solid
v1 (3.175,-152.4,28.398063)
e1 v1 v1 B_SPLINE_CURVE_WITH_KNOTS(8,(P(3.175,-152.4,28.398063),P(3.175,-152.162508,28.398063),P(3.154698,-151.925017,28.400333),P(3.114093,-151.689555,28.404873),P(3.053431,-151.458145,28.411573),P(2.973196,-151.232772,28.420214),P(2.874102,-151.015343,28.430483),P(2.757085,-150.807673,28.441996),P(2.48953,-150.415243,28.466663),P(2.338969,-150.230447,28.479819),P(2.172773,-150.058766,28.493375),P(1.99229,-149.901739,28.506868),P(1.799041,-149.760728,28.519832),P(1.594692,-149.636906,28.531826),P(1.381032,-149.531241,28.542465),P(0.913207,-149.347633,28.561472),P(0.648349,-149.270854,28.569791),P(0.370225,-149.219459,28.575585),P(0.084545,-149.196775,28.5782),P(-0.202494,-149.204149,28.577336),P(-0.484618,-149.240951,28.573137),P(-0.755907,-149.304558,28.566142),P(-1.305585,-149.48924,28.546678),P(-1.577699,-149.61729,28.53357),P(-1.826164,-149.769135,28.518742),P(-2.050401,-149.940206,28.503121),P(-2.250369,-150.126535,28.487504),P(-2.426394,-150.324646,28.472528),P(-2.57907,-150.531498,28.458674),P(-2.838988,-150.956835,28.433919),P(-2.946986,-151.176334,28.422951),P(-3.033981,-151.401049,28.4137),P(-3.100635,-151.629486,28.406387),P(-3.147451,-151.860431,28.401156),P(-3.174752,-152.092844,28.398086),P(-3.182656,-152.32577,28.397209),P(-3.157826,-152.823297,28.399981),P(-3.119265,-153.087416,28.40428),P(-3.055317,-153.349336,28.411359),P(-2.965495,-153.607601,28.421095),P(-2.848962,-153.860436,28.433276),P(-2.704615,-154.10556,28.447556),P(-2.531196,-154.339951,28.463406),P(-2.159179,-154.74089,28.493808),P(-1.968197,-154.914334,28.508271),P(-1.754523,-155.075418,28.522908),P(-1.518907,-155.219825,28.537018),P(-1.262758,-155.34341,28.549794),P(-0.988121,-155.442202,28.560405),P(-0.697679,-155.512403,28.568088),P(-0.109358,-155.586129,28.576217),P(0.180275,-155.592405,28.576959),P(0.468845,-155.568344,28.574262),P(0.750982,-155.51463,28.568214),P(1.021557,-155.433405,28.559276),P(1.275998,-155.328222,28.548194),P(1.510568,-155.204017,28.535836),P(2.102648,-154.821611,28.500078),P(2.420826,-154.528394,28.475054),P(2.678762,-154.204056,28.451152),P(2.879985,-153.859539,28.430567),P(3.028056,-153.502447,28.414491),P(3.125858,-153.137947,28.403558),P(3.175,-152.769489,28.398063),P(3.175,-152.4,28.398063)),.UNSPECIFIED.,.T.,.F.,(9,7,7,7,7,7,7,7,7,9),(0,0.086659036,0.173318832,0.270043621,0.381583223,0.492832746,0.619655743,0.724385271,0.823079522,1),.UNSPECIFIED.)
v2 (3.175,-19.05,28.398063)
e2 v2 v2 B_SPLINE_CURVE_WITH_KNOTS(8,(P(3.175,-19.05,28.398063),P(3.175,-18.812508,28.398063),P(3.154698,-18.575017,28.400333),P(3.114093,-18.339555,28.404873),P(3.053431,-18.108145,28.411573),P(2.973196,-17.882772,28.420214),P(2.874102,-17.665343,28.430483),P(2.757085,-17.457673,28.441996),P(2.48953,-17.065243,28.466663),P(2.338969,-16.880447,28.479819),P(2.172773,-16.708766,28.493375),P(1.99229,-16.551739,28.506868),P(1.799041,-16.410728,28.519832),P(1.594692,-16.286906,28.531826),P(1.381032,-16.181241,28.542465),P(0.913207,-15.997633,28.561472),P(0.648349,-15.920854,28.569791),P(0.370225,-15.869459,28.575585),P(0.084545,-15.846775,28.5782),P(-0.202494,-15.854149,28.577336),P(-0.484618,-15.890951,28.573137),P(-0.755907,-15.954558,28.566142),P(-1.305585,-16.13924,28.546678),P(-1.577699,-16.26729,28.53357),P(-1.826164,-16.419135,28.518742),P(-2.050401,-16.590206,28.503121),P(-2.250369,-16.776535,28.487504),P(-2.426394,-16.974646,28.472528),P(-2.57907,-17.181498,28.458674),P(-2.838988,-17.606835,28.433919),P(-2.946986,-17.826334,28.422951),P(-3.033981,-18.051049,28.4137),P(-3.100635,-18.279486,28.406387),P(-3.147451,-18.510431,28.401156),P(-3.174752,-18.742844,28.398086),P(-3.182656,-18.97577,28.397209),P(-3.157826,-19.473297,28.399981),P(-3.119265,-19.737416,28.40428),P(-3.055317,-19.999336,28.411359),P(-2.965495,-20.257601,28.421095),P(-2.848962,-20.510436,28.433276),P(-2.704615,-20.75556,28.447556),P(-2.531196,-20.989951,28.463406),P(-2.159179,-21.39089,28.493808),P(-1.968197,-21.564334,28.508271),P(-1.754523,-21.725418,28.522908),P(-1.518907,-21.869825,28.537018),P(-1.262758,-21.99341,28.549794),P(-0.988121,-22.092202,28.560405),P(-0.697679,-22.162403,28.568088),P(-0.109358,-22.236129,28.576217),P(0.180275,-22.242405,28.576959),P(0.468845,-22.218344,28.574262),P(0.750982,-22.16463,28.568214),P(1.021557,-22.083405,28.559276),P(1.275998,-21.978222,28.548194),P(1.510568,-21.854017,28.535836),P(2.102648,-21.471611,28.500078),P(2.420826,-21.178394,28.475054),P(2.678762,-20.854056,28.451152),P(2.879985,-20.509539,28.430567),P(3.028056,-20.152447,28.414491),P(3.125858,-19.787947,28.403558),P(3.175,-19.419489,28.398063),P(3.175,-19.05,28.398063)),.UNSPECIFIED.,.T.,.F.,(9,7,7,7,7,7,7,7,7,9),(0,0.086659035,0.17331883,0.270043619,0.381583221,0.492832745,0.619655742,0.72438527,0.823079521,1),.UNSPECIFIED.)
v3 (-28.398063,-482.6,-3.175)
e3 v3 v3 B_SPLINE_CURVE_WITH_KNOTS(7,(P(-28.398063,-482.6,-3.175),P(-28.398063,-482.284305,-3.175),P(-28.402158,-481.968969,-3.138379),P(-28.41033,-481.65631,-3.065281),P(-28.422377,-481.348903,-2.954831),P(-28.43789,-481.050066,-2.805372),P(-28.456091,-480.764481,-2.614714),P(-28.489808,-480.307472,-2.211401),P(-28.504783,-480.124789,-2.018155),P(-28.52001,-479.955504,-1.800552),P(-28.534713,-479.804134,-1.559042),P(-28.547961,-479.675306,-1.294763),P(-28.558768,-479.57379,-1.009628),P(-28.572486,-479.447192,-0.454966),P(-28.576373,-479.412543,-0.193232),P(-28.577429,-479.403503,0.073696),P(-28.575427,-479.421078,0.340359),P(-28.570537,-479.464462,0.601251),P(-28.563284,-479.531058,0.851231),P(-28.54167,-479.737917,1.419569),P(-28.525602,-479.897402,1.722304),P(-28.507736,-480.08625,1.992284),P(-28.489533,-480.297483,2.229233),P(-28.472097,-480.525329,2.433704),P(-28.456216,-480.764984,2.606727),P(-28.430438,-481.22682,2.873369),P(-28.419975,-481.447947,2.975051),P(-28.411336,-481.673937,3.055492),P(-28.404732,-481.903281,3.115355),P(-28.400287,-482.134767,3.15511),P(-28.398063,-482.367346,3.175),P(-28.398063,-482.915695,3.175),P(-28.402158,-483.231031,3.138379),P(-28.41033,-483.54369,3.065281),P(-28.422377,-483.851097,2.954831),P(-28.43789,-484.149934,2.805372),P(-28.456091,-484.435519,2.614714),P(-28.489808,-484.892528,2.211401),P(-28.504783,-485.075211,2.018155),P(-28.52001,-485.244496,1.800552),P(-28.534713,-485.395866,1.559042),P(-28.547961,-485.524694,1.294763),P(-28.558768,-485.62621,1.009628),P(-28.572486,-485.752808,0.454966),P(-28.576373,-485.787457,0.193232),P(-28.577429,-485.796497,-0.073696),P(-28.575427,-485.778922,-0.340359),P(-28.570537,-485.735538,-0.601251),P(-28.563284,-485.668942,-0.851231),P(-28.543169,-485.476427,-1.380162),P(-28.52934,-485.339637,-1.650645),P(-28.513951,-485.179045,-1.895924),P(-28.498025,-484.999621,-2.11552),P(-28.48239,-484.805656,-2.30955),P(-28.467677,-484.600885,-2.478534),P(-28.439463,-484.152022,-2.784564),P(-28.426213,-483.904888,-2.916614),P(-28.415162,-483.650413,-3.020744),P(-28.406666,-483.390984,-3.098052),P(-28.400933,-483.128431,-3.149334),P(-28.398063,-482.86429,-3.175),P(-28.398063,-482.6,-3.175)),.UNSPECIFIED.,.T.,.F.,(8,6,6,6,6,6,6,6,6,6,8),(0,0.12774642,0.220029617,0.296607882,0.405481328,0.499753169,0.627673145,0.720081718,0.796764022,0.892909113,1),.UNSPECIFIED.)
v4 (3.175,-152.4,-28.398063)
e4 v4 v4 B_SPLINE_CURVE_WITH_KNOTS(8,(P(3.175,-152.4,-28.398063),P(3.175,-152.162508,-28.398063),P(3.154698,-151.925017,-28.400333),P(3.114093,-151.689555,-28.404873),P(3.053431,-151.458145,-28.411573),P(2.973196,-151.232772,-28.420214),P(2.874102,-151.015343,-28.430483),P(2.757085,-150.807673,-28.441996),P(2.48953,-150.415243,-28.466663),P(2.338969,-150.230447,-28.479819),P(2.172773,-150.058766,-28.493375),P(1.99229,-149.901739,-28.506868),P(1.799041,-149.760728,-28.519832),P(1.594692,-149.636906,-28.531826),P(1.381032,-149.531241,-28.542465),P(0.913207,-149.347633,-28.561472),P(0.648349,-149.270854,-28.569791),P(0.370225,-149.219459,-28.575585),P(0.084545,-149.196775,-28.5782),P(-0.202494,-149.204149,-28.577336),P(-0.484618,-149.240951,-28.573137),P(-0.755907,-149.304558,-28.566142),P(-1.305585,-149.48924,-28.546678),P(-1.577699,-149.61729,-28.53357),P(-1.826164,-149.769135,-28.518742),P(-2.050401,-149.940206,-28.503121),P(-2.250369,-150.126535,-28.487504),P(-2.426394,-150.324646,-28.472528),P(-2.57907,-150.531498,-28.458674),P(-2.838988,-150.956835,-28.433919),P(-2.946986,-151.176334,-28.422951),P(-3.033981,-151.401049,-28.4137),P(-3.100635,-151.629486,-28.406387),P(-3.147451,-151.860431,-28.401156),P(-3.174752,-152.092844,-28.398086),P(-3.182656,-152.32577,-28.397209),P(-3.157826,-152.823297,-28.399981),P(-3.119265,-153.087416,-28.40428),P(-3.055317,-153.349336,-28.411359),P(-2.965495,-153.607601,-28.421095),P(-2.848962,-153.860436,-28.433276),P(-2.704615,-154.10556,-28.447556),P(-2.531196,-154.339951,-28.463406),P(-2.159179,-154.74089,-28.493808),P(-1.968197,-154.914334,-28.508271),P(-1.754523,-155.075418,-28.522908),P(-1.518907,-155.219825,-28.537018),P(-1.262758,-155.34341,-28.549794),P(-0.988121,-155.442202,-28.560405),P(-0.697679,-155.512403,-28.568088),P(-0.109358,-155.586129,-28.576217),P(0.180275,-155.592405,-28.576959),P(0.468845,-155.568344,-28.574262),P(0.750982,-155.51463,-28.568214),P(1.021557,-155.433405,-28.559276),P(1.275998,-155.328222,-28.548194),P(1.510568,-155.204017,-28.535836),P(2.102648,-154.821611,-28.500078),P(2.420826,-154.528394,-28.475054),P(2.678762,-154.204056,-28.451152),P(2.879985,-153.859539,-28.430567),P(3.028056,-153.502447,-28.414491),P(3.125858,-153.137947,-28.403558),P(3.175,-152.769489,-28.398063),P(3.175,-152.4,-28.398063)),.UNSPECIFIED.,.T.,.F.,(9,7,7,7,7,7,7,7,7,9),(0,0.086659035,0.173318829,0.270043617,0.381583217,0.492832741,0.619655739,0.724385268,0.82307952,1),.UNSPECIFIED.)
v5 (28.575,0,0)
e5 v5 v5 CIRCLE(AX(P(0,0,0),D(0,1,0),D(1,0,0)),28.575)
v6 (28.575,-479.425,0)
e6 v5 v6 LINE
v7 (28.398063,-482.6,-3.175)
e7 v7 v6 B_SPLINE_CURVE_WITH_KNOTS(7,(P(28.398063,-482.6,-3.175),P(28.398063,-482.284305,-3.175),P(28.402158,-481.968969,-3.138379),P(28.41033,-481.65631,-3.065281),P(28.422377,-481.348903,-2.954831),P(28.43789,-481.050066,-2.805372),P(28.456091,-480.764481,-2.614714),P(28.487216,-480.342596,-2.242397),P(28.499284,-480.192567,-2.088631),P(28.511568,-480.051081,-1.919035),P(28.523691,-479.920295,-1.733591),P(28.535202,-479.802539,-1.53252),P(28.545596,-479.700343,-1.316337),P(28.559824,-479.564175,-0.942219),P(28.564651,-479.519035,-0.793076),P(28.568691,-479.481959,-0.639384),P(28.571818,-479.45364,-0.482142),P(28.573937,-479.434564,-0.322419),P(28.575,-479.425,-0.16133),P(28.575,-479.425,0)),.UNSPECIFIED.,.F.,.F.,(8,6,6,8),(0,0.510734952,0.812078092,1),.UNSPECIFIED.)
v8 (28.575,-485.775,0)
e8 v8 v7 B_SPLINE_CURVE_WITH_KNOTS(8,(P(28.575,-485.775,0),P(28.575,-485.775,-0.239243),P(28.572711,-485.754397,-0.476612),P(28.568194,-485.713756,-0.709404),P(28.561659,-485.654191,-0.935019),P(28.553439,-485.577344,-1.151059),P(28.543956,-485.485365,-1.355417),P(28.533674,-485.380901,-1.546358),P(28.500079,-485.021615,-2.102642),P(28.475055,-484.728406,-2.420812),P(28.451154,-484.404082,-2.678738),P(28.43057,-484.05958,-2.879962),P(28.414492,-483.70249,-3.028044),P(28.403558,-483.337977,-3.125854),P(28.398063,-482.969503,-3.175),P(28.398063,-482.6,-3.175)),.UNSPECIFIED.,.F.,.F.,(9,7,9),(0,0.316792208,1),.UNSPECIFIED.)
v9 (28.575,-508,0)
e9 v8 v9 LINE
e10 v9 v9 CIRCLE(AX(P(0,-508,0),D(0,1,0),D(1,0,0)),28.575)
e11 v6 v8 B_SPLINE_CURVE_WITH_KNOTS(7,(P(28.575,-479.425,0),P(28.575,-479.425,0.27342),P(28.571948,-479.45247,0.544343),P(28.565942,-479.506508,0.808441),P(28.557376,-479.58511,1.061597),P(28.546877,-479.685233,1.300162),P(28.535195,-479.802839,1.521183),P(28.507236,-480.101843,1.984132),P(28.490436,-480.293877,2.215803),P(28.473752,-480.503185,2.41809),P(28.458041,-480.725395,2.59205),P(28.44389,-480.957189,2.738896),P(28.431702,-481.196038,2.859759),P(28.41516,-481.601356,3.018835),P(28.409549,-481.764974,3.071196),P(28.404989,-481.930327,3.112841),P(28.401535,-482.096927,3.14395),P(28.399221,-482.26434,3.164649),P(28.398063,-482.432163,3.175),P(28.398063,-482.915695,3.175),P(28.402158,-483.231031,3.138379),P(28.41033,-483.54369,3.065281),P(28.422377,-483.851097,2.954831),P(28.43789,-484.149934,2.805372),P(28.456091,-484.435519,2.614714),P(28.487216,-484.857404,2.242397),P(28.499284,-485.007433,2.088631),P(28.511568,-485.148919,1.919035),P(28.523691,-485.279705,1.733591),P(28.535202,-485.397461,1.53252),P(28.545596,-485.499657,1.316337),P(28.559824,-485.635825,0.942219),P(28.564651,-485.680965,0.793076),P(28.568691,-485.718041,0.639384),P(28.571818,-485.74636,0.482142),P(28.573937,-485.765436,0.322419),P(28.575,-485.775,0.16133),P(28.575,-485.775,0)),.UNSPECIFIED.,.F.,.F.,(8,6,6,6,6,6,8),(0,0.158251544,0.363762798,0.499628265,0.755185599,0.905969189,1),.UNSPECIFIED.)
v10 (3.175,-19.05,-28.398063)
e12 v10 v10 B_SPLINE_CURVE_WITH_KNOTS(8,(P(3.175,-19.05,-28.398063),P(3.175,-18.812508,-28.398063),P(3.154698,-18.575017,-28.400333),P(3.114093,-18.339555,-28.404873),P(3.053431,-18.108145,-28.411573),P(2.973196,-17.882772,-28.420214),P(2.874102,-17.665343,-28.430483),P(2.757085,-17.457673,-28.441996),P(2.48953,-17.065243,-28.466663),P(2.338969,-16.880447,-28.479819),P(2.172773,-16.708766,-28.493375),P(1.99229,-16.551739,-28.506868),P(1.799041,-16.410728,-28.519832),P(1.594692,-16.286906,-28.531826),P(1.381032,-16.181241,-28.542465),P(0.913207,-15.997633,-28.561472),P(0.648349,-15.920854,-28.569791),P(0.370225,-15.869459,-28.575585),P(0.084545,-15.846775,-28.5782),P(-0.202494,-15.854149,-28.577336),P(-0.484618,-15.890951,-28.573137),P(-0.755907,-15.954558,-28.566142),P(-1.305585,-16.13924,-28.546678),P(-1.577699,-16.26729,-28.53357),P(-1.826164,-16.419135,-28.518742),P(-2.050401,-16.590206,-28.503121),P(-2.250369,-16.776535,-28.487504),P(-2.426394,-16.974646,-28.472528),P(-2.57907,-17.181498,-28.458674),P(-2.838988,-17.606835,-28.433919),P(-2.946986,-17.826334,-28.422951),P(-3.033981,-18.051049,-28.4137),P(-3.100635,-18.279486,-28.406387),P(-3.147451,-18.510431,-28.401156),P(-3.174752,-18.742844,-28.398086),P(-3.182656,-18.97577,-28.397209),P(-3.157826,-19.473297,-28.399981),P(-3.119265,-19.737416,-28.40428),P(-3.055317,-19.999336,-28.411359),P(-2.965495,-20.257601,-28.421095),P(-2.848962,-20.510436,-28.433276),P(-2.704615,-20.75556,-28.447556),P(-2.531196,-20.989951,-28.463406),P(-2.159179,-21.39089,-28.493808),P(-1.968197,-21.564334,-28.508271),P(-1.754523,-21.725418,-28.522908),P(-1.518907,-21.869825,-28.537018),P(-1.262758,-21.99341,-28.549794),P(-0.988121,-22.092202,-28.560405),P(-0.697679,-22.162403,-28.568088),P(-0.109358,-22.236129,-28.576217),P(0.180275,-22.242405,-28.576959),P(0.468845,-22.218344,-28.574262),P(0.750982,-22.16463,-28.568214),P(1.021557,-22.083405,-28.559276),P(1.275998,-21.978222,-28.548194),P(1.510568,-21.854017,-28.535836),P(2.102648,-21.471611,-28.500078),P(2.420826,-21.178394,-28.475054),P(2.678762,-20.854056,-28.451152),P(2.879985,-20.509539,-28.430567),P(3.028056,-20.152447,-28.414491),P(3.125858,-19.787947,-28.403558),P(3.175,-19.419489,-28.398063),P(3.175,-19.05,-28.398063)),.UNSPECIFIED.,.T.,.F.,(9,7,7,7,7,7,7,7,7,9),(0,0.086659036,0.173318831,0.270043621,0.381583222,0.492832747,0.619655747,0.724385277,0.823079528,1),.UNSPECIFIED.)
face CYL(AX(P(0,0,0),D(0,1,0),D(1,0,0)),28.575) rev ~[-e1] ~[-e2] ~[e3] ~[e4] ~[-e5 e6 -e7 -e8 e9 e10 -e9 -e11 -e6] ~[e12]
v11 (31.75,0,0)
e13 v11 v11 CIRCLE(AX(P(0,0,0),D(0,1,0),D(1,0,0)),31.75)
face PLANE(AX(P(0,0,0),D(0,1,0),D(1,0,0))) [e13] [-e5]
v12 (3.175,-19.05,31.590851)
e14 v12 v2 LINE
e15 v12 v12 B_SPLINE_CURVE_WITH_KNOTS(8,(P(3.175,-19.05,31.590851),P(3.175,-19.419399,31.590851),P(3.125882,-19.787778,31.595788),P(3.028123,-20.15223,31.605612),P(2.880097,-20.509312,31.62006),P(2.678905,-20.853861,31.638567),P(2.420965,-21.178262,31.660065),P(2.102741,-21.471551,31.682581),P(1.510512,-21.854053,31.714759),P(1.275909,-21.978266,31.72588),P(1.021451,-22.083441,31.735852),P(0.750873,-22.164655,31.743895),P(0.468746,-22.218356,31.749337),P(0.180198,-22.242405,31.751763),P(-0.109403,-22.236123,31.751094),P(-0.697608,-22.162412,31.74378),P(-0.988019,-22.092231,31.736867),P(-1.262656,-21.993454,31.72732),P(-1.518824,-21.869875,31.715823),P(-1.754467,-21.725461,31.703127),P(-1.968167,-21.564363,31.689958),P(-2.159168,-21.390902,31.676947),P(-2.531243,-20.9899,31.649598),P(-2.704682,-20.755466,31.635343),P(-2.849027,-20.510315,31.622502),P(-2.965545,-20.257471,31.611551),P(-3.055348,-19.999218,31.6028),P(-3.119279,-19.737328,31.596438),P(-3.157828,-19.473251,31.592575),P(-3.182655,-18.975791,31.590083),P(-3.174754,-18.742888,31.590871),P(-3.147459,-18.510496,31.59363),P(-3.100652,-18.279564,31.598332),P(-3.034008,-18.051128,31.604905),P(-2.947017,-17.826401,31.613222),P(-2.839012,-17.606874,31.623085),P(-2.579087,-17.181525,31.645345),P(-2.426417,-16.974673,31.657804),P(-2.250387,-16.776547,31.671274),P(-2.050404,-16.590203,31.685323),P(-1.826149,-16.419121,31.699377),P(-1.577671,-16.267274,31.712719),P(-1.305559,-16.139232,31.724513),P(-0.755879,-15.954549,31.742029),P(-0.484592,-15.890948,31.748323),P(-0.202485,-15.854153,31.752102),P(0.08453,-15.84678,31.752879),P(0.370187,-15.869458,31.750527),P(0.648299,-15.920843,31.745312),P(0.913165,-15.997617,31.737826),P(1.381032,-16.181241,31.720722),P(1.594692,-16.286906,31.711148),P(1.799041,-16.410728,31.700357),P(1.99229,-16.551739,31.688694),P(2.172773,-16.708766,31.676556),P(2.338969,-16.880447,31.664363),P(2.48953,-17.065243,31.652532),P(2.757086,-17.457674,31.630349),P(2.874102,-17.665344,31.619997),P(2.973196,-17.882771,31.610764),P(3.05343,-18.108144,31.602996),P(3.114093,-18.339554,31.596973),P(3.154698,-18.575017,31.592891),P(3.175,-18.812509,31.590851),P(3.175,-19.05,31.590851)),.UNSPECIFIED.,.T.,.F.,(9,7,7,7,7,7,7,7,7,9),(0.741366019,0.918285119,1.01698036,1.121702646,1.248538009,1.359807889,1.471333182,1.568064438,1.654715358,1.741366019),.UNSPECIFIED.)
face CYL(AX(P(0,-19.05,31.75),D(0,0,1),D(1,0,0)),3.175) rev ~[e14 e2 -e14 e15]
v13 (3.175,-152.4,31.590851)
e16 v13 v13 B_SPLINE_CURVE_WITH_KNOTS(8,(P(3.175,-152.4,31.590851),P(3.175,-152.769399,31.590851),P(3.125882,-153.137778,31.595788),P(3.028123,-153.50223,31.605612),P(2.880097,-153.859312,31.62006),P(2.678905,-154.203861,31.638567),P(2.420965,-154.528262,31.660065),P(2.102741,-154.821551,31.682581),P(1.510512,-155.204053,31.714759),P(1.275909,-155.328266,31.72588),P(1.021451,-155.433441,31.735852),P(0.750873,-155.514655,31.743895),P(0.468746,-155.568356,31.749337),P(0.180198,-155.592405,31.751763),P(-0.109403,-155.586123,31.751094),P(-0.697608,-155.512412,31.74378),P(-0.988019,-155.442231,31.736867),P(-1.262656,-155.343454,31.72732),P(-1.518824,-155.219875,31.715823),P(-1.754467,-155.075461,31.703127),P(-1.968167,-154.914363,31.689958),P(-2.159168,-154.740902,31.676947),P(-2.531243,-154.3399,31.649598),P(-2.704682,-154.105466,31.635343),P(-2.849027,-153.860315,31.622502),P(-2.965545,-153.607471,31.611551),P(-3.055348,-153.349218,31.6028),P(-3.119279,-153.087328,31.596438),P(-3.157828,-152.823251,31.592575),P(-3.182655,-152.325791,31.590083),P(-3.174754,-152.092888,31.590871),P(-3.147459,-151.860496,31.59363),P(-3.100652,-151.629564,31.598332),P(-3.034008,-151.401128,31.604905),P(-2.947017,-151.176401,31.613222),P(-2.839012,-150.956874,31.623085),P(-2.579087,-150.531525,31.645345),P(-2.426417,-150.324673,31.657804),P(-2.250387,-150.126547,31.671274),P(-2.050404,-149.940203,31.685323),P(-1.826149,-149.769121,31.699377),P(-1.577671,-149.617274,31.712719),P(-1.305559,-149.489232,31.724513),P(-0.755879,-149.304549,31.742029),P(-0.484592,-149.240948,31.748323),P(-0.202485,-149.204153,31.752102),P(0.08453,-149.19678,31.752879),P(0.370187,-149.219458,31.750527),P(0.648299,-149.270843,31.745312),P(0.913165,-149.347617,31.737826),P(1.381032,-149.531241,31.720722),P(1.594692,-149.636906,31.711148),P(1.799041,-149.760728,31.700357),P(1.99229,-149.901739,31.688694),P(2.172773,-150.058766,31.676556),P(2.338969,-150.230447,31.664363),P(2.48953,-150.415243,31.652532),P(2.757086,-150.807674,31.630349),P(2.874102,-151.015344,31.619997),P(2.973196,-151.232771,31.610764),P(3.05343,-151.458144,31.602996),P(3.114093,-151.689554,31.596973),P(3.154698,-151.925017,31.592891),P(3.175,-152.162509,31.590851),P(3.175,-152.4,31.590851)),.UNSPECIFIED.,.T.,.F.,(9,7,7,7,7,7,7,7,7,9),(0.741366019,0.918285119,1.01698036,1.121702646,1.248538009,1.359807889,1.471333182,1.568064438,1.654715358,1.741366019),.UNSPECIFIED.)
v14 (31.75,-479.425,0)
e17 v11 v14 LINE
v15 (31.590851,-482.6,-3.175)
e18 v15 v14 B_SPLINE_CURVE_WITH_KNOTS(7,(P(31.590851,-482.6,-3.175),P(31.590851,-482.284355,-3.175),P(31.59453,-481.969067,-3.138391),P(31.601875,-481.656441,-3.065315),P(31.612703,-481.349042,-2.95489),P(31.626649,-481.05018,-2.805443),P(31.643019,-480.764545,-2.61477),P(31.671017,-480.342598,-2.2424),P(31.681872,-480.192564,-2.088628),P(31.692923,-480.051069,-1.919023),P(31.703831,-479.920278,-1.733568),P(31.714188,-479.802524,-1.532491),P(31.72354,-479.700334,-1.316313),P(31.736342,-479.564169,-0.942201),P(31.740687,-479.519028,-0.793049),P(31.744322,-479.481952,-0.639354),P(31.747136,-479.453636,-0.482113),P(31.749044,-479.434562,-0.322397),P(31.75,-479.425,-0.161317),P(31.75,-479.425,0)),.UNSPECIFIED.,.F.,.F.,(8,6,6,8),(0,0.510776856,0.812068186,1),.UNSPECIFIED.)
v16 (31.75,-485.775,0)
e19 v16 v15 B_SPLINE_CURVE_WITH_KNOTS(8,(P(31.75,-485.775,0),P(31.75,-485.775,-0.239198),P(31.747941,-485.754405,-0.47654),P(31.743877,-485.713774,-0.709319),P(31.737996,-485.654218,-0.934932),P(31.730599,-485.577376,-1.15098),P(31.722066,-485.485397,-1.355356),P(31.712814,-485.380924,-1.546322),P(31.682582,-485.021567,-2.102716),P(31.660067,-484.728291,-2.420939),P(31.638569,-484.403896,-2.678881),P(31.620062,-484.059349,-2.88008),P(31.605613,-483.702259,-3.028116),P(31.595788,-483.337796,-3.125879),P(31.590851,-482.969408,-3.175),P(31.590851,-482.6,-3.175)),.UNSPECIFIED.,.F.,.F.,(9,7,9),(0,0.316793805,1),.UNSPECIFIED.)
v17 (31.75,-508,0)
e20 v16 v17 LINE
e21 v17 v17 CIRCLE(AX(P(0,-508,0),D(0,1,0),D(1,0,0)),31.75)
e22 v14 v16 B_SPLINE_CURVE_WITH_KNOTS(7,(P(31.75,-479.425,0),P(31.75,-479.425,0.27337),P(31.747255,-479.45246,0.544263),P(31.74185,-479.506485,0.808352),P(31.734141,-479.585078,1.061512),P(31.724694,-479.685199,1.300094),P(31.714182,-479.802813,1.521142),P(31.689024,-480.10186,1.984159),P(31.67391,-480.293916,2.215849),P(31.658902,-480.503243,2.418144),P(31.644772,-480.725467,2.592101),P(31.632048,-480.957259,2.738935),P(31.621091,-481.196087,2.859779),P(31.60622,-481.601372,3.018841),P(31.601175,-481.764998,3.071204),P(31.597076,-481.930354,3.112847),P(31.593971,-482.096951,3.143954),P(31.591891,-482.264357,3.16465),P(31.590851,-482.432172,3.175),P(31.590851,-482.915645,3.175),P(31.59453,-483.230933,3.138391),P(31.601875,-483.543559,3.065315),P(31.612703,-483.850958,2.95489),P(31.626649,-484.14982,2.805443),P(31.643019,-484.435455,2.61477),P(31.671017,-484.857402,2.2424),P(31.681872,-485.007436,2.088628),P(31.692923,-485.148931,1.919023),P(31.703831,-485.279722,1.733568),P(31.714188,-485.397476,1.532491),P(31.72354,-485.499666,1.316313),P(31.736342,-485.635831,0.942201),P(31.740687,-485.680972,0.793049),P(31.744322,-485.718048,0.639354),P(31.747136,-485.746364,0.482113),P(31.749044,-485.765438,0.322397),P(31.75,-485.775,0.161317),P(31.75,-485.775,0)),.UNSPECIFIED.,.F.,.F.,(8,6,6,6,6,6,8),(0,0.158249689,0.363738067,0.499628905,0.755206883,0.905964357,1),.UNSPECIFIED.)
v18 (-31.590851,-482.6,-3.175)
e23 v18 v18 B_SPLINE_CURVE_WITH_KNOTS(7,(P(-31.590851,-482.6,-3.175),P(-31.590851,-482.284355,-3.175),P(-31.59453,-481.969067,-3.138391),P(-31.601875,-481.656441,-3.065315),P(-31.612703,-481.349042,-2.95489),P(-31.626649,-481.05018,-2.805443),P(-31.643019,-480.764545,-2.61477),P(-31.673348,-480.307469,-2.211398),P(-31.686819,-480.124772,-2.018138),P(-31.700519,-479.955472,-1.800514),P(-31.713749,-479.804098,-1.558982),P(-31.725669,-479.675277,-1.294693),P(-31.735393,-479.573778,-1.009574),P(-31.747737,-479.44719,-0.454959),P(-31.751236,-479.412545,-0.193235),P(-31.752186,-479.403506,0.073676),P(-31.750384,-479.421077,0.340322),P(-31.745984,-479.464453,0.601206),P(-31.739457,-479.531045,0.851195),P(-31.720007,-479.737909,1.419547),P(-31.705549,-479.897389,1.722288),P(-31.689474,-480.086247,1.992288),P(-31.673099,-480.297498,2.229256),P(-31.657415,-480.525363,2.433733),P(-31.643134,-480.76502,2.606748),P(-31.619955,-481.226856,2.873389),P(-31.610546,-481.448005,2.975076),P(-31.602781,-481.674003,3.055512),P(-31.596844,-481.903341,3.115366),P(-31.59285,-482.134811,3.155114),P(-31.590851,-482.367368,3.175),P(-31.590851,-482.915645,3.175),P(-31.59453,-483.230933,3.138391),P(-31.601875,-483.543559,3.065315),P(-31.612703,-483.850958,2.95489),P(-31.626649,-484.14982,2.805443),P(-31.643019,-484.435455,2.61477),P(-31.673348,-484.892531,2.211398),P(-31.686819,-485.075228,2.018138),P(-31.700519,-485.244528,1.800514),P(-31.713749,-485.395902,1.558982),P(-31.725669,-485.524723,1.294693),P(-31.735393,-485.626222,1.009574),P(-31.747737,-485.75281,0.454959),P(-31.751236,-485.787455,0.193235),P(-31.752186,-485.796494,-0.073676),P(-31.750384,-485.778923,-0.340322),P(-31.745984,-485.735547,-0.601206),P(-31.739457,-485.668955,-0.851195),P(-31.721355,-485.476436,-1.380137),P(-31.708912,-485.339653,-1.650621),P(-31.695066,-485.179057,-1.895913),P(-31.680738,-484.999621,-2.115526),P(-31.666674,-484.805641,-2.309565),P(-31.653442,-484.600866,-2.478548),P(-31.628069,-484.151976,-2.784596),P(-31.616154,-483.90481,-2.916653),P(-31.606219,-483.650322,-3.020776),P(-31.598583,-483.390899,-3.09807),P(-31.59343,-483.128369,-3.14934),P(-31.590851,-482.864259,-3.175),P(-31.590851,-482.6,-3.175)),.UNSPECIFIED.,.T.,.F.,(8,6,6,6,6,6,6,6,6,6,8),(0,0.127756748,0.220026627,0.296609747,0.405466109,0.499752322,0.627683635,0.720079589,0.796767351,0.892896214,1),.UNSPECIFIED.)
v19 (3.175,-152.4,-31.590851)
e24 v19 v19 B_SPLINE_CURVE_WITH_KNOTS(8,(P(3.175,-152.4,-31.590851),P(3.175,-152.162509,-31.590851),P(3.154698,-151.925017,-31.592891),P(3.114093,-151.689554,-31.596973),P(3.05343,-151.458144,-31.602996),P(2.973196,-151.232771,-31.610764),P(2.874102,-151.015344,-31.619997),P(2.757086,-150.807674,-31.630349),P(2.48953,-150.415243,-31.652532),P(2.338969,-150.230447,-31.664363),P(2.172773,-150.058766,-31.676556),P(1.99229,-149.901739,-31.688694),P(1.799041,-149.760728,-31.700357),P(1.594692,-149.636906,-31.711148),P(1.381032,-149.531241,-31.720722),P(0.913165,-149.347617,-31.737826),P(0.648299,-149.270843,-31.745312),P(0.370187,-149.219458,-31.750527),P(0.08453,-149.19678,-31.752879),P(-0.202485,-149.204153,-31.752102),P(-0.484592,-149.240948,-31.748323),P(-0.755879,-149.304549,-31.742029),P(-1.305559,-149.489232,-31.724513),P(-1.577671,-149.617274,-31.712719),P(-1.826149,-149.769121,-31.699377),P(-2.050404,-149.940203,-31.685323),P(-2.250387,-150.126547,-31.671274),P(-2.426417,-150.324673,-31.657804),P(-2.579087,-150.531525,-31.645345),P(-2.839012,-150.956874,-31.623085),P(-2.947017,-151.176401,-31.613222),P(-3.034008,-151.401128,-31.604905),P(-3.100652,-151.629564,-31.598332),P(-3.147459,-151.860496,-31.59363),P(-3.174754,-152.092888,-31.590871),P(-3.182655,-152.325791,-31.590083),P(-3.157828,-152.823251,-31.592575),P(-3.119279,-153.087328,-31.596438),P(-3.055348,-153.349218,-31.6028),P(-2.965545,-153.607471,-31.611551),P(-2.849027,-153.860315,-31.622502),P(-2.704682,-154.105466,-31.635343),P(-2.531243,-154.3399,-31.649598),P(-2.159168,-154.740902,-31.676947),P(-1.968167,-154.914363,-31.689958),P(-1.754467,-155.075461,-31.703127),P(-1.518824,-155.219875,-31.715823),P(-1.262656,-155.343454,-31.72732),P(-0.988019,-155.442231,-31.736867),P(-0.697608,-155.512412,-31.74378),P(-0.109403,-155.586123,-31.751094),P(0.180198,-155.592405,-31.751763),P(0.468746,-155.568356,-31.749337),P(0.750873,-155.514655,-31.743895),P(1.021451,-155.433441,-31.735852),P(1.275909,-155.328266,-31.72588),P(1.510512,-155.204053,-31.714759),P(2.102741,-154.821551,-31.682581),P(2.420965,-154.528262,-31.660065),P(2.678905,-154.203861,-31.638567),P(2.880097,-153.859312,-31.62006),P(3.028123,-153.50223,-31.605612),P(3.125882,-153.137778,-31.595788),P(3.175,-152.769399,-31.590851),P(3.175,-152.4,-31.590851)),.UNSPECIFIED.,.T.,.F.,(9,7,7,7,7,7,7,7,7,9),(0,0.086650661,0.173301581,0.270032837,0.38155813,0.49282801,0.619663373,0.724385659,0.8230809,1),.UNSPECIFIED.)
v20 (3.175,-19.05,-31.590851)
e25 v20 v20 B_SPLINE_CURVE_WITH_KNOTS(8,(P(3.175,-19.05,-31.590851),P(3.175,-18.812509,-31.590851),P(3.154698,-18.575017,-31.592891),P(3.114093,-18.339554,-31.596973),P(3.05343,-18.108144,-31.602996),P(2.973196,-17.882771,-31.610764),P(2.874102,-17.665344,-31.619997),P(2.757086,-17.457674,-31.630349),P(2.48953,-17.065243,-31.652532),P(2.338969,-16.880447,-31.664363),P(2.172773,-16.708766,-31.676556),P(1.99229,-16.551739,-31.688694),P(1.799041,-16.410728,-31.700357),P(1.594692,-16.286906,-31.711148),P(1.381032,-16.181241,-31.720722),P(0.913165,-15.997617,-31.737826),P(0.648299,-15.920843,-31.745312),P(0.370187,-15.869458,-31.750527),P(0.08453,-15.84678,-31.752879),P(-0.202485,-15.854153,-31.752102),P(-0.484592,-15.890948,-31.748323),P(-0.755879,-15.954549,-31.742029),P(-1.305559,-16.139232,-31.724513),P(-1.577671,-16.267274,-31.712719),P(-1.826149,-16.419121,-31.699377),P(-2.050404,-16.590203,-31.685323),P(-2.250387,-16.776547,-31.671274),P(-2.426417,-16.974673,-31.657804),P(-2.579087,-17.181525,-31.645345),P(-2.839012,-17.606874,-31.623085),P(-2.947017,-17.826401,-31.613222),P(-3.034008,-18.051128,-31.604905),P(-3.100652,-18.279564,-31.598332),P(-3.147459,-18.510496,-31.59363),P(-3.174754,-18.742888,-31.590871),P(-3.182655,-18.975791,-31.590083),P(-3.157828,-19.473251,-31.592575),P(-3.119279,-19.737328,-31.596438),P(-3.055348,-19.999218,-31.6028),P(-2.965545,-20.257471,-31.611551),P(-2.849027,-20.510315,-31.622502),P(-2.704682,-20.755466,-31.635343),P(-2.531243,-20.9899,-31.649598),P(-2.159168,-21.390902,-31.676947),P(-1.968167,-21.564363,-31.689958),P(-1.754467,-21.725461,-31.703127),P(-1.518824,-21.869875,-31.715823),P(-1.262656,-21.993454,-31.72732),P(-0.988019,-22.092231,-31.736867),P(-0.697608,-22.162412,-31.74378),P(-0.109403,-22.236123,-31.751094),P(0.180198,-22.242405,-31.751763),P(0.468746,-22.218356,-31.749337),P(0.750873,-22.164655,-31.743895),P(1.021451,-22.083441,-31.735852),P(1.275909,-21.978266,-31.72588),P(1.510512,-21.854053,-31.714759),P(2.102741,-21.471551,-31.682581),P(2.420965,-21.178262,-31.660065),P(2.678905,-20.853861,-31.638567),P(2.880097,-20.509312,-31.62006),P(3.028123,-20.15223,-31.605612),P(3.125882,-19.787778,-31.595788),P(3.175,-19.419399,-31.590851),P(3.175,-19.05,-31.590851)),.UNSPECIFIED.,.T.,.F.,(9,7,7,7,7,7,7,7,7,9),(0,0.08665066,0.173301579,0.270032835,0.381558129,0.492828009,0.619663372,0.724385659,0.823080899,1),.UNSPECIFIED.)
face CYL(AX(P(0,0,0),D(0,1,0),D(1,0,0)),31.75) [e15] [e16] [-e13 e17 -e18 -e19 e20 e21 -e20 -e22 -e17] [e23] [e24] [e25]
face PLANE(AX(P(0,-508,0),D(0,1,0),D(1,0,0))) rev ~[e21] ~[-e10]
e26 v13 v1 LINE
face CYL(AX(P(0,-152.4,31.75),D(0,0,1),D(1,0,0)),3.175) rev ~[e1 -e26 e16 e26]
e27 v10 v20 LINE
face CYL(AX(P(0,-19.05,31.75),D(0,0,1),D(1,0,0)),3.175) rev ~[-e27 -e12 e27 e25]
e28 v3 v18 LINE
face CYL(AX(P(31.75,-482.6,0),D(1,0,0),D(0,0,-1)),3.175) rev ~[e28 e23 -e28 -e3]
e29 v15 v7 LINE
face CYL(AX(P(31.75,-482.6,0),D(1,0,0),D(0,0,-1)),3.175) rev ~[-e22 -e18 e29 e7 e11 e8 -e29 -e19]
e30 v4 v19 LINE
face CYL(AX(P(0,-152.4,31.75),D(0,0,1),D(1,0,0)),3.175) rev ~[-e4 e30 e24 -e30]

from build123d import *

# Parameters (mm, degrees)
SKETCH1_R           = 31.75
SKETCH1_R_2         = 28.575
BOSS_EXTRUDE1_DEPTH = 508
SKETCH3_R           = 3.175
CUT_EXTRUDE1_DEPTH  = 508
SKETCH7_R           = 3.175
CUT_EXTRUDE2_DEPTH  = 64.5000001


with BuildPart() as part:
    # Sketch1 → Boss-Extrude1 (new body)
    with BuildSketch(Plane(origin=(0, 0, 0), x_dir=(1, 0, 0), z_dir=(0, 1, 0))):
        Circle(SKETCH1_R)
        Circle(SKETCH1_R_2, mode=Mode.SUBTRACT)
    extrude(amount=-BOSS_EXTRUDE1_DEPTH)

    # Sketch3 → Cut-Extrude1 (cut)
    with BuildSketch(Plane.XY.offset(31.75)):
        with Locations((0, -19.05)):
            Circle(SKETCH3_R)
        with Locations((0, -152.4)):
            Circle(SKETCH3_R)
    extrude(amount=-CUT_EXTRUDE1_DEPTH, mode=Mode.SUBTRACT)

    # Sketch7 → Cut-Extrude2 (cut, through all)
    with BuildSketch(Plane(origin=(31.75, 0, 0), x_dir=(0, 0, -1), z_dir=(1, 0, 0))):
        with Locations((0, -482.6)):
            Circle(SKETCH7_R)
    extrude(amount=-CUT_EXTRUDE2_DEPTH, mode=Mode.SUBTRACT)


solid = part.part
